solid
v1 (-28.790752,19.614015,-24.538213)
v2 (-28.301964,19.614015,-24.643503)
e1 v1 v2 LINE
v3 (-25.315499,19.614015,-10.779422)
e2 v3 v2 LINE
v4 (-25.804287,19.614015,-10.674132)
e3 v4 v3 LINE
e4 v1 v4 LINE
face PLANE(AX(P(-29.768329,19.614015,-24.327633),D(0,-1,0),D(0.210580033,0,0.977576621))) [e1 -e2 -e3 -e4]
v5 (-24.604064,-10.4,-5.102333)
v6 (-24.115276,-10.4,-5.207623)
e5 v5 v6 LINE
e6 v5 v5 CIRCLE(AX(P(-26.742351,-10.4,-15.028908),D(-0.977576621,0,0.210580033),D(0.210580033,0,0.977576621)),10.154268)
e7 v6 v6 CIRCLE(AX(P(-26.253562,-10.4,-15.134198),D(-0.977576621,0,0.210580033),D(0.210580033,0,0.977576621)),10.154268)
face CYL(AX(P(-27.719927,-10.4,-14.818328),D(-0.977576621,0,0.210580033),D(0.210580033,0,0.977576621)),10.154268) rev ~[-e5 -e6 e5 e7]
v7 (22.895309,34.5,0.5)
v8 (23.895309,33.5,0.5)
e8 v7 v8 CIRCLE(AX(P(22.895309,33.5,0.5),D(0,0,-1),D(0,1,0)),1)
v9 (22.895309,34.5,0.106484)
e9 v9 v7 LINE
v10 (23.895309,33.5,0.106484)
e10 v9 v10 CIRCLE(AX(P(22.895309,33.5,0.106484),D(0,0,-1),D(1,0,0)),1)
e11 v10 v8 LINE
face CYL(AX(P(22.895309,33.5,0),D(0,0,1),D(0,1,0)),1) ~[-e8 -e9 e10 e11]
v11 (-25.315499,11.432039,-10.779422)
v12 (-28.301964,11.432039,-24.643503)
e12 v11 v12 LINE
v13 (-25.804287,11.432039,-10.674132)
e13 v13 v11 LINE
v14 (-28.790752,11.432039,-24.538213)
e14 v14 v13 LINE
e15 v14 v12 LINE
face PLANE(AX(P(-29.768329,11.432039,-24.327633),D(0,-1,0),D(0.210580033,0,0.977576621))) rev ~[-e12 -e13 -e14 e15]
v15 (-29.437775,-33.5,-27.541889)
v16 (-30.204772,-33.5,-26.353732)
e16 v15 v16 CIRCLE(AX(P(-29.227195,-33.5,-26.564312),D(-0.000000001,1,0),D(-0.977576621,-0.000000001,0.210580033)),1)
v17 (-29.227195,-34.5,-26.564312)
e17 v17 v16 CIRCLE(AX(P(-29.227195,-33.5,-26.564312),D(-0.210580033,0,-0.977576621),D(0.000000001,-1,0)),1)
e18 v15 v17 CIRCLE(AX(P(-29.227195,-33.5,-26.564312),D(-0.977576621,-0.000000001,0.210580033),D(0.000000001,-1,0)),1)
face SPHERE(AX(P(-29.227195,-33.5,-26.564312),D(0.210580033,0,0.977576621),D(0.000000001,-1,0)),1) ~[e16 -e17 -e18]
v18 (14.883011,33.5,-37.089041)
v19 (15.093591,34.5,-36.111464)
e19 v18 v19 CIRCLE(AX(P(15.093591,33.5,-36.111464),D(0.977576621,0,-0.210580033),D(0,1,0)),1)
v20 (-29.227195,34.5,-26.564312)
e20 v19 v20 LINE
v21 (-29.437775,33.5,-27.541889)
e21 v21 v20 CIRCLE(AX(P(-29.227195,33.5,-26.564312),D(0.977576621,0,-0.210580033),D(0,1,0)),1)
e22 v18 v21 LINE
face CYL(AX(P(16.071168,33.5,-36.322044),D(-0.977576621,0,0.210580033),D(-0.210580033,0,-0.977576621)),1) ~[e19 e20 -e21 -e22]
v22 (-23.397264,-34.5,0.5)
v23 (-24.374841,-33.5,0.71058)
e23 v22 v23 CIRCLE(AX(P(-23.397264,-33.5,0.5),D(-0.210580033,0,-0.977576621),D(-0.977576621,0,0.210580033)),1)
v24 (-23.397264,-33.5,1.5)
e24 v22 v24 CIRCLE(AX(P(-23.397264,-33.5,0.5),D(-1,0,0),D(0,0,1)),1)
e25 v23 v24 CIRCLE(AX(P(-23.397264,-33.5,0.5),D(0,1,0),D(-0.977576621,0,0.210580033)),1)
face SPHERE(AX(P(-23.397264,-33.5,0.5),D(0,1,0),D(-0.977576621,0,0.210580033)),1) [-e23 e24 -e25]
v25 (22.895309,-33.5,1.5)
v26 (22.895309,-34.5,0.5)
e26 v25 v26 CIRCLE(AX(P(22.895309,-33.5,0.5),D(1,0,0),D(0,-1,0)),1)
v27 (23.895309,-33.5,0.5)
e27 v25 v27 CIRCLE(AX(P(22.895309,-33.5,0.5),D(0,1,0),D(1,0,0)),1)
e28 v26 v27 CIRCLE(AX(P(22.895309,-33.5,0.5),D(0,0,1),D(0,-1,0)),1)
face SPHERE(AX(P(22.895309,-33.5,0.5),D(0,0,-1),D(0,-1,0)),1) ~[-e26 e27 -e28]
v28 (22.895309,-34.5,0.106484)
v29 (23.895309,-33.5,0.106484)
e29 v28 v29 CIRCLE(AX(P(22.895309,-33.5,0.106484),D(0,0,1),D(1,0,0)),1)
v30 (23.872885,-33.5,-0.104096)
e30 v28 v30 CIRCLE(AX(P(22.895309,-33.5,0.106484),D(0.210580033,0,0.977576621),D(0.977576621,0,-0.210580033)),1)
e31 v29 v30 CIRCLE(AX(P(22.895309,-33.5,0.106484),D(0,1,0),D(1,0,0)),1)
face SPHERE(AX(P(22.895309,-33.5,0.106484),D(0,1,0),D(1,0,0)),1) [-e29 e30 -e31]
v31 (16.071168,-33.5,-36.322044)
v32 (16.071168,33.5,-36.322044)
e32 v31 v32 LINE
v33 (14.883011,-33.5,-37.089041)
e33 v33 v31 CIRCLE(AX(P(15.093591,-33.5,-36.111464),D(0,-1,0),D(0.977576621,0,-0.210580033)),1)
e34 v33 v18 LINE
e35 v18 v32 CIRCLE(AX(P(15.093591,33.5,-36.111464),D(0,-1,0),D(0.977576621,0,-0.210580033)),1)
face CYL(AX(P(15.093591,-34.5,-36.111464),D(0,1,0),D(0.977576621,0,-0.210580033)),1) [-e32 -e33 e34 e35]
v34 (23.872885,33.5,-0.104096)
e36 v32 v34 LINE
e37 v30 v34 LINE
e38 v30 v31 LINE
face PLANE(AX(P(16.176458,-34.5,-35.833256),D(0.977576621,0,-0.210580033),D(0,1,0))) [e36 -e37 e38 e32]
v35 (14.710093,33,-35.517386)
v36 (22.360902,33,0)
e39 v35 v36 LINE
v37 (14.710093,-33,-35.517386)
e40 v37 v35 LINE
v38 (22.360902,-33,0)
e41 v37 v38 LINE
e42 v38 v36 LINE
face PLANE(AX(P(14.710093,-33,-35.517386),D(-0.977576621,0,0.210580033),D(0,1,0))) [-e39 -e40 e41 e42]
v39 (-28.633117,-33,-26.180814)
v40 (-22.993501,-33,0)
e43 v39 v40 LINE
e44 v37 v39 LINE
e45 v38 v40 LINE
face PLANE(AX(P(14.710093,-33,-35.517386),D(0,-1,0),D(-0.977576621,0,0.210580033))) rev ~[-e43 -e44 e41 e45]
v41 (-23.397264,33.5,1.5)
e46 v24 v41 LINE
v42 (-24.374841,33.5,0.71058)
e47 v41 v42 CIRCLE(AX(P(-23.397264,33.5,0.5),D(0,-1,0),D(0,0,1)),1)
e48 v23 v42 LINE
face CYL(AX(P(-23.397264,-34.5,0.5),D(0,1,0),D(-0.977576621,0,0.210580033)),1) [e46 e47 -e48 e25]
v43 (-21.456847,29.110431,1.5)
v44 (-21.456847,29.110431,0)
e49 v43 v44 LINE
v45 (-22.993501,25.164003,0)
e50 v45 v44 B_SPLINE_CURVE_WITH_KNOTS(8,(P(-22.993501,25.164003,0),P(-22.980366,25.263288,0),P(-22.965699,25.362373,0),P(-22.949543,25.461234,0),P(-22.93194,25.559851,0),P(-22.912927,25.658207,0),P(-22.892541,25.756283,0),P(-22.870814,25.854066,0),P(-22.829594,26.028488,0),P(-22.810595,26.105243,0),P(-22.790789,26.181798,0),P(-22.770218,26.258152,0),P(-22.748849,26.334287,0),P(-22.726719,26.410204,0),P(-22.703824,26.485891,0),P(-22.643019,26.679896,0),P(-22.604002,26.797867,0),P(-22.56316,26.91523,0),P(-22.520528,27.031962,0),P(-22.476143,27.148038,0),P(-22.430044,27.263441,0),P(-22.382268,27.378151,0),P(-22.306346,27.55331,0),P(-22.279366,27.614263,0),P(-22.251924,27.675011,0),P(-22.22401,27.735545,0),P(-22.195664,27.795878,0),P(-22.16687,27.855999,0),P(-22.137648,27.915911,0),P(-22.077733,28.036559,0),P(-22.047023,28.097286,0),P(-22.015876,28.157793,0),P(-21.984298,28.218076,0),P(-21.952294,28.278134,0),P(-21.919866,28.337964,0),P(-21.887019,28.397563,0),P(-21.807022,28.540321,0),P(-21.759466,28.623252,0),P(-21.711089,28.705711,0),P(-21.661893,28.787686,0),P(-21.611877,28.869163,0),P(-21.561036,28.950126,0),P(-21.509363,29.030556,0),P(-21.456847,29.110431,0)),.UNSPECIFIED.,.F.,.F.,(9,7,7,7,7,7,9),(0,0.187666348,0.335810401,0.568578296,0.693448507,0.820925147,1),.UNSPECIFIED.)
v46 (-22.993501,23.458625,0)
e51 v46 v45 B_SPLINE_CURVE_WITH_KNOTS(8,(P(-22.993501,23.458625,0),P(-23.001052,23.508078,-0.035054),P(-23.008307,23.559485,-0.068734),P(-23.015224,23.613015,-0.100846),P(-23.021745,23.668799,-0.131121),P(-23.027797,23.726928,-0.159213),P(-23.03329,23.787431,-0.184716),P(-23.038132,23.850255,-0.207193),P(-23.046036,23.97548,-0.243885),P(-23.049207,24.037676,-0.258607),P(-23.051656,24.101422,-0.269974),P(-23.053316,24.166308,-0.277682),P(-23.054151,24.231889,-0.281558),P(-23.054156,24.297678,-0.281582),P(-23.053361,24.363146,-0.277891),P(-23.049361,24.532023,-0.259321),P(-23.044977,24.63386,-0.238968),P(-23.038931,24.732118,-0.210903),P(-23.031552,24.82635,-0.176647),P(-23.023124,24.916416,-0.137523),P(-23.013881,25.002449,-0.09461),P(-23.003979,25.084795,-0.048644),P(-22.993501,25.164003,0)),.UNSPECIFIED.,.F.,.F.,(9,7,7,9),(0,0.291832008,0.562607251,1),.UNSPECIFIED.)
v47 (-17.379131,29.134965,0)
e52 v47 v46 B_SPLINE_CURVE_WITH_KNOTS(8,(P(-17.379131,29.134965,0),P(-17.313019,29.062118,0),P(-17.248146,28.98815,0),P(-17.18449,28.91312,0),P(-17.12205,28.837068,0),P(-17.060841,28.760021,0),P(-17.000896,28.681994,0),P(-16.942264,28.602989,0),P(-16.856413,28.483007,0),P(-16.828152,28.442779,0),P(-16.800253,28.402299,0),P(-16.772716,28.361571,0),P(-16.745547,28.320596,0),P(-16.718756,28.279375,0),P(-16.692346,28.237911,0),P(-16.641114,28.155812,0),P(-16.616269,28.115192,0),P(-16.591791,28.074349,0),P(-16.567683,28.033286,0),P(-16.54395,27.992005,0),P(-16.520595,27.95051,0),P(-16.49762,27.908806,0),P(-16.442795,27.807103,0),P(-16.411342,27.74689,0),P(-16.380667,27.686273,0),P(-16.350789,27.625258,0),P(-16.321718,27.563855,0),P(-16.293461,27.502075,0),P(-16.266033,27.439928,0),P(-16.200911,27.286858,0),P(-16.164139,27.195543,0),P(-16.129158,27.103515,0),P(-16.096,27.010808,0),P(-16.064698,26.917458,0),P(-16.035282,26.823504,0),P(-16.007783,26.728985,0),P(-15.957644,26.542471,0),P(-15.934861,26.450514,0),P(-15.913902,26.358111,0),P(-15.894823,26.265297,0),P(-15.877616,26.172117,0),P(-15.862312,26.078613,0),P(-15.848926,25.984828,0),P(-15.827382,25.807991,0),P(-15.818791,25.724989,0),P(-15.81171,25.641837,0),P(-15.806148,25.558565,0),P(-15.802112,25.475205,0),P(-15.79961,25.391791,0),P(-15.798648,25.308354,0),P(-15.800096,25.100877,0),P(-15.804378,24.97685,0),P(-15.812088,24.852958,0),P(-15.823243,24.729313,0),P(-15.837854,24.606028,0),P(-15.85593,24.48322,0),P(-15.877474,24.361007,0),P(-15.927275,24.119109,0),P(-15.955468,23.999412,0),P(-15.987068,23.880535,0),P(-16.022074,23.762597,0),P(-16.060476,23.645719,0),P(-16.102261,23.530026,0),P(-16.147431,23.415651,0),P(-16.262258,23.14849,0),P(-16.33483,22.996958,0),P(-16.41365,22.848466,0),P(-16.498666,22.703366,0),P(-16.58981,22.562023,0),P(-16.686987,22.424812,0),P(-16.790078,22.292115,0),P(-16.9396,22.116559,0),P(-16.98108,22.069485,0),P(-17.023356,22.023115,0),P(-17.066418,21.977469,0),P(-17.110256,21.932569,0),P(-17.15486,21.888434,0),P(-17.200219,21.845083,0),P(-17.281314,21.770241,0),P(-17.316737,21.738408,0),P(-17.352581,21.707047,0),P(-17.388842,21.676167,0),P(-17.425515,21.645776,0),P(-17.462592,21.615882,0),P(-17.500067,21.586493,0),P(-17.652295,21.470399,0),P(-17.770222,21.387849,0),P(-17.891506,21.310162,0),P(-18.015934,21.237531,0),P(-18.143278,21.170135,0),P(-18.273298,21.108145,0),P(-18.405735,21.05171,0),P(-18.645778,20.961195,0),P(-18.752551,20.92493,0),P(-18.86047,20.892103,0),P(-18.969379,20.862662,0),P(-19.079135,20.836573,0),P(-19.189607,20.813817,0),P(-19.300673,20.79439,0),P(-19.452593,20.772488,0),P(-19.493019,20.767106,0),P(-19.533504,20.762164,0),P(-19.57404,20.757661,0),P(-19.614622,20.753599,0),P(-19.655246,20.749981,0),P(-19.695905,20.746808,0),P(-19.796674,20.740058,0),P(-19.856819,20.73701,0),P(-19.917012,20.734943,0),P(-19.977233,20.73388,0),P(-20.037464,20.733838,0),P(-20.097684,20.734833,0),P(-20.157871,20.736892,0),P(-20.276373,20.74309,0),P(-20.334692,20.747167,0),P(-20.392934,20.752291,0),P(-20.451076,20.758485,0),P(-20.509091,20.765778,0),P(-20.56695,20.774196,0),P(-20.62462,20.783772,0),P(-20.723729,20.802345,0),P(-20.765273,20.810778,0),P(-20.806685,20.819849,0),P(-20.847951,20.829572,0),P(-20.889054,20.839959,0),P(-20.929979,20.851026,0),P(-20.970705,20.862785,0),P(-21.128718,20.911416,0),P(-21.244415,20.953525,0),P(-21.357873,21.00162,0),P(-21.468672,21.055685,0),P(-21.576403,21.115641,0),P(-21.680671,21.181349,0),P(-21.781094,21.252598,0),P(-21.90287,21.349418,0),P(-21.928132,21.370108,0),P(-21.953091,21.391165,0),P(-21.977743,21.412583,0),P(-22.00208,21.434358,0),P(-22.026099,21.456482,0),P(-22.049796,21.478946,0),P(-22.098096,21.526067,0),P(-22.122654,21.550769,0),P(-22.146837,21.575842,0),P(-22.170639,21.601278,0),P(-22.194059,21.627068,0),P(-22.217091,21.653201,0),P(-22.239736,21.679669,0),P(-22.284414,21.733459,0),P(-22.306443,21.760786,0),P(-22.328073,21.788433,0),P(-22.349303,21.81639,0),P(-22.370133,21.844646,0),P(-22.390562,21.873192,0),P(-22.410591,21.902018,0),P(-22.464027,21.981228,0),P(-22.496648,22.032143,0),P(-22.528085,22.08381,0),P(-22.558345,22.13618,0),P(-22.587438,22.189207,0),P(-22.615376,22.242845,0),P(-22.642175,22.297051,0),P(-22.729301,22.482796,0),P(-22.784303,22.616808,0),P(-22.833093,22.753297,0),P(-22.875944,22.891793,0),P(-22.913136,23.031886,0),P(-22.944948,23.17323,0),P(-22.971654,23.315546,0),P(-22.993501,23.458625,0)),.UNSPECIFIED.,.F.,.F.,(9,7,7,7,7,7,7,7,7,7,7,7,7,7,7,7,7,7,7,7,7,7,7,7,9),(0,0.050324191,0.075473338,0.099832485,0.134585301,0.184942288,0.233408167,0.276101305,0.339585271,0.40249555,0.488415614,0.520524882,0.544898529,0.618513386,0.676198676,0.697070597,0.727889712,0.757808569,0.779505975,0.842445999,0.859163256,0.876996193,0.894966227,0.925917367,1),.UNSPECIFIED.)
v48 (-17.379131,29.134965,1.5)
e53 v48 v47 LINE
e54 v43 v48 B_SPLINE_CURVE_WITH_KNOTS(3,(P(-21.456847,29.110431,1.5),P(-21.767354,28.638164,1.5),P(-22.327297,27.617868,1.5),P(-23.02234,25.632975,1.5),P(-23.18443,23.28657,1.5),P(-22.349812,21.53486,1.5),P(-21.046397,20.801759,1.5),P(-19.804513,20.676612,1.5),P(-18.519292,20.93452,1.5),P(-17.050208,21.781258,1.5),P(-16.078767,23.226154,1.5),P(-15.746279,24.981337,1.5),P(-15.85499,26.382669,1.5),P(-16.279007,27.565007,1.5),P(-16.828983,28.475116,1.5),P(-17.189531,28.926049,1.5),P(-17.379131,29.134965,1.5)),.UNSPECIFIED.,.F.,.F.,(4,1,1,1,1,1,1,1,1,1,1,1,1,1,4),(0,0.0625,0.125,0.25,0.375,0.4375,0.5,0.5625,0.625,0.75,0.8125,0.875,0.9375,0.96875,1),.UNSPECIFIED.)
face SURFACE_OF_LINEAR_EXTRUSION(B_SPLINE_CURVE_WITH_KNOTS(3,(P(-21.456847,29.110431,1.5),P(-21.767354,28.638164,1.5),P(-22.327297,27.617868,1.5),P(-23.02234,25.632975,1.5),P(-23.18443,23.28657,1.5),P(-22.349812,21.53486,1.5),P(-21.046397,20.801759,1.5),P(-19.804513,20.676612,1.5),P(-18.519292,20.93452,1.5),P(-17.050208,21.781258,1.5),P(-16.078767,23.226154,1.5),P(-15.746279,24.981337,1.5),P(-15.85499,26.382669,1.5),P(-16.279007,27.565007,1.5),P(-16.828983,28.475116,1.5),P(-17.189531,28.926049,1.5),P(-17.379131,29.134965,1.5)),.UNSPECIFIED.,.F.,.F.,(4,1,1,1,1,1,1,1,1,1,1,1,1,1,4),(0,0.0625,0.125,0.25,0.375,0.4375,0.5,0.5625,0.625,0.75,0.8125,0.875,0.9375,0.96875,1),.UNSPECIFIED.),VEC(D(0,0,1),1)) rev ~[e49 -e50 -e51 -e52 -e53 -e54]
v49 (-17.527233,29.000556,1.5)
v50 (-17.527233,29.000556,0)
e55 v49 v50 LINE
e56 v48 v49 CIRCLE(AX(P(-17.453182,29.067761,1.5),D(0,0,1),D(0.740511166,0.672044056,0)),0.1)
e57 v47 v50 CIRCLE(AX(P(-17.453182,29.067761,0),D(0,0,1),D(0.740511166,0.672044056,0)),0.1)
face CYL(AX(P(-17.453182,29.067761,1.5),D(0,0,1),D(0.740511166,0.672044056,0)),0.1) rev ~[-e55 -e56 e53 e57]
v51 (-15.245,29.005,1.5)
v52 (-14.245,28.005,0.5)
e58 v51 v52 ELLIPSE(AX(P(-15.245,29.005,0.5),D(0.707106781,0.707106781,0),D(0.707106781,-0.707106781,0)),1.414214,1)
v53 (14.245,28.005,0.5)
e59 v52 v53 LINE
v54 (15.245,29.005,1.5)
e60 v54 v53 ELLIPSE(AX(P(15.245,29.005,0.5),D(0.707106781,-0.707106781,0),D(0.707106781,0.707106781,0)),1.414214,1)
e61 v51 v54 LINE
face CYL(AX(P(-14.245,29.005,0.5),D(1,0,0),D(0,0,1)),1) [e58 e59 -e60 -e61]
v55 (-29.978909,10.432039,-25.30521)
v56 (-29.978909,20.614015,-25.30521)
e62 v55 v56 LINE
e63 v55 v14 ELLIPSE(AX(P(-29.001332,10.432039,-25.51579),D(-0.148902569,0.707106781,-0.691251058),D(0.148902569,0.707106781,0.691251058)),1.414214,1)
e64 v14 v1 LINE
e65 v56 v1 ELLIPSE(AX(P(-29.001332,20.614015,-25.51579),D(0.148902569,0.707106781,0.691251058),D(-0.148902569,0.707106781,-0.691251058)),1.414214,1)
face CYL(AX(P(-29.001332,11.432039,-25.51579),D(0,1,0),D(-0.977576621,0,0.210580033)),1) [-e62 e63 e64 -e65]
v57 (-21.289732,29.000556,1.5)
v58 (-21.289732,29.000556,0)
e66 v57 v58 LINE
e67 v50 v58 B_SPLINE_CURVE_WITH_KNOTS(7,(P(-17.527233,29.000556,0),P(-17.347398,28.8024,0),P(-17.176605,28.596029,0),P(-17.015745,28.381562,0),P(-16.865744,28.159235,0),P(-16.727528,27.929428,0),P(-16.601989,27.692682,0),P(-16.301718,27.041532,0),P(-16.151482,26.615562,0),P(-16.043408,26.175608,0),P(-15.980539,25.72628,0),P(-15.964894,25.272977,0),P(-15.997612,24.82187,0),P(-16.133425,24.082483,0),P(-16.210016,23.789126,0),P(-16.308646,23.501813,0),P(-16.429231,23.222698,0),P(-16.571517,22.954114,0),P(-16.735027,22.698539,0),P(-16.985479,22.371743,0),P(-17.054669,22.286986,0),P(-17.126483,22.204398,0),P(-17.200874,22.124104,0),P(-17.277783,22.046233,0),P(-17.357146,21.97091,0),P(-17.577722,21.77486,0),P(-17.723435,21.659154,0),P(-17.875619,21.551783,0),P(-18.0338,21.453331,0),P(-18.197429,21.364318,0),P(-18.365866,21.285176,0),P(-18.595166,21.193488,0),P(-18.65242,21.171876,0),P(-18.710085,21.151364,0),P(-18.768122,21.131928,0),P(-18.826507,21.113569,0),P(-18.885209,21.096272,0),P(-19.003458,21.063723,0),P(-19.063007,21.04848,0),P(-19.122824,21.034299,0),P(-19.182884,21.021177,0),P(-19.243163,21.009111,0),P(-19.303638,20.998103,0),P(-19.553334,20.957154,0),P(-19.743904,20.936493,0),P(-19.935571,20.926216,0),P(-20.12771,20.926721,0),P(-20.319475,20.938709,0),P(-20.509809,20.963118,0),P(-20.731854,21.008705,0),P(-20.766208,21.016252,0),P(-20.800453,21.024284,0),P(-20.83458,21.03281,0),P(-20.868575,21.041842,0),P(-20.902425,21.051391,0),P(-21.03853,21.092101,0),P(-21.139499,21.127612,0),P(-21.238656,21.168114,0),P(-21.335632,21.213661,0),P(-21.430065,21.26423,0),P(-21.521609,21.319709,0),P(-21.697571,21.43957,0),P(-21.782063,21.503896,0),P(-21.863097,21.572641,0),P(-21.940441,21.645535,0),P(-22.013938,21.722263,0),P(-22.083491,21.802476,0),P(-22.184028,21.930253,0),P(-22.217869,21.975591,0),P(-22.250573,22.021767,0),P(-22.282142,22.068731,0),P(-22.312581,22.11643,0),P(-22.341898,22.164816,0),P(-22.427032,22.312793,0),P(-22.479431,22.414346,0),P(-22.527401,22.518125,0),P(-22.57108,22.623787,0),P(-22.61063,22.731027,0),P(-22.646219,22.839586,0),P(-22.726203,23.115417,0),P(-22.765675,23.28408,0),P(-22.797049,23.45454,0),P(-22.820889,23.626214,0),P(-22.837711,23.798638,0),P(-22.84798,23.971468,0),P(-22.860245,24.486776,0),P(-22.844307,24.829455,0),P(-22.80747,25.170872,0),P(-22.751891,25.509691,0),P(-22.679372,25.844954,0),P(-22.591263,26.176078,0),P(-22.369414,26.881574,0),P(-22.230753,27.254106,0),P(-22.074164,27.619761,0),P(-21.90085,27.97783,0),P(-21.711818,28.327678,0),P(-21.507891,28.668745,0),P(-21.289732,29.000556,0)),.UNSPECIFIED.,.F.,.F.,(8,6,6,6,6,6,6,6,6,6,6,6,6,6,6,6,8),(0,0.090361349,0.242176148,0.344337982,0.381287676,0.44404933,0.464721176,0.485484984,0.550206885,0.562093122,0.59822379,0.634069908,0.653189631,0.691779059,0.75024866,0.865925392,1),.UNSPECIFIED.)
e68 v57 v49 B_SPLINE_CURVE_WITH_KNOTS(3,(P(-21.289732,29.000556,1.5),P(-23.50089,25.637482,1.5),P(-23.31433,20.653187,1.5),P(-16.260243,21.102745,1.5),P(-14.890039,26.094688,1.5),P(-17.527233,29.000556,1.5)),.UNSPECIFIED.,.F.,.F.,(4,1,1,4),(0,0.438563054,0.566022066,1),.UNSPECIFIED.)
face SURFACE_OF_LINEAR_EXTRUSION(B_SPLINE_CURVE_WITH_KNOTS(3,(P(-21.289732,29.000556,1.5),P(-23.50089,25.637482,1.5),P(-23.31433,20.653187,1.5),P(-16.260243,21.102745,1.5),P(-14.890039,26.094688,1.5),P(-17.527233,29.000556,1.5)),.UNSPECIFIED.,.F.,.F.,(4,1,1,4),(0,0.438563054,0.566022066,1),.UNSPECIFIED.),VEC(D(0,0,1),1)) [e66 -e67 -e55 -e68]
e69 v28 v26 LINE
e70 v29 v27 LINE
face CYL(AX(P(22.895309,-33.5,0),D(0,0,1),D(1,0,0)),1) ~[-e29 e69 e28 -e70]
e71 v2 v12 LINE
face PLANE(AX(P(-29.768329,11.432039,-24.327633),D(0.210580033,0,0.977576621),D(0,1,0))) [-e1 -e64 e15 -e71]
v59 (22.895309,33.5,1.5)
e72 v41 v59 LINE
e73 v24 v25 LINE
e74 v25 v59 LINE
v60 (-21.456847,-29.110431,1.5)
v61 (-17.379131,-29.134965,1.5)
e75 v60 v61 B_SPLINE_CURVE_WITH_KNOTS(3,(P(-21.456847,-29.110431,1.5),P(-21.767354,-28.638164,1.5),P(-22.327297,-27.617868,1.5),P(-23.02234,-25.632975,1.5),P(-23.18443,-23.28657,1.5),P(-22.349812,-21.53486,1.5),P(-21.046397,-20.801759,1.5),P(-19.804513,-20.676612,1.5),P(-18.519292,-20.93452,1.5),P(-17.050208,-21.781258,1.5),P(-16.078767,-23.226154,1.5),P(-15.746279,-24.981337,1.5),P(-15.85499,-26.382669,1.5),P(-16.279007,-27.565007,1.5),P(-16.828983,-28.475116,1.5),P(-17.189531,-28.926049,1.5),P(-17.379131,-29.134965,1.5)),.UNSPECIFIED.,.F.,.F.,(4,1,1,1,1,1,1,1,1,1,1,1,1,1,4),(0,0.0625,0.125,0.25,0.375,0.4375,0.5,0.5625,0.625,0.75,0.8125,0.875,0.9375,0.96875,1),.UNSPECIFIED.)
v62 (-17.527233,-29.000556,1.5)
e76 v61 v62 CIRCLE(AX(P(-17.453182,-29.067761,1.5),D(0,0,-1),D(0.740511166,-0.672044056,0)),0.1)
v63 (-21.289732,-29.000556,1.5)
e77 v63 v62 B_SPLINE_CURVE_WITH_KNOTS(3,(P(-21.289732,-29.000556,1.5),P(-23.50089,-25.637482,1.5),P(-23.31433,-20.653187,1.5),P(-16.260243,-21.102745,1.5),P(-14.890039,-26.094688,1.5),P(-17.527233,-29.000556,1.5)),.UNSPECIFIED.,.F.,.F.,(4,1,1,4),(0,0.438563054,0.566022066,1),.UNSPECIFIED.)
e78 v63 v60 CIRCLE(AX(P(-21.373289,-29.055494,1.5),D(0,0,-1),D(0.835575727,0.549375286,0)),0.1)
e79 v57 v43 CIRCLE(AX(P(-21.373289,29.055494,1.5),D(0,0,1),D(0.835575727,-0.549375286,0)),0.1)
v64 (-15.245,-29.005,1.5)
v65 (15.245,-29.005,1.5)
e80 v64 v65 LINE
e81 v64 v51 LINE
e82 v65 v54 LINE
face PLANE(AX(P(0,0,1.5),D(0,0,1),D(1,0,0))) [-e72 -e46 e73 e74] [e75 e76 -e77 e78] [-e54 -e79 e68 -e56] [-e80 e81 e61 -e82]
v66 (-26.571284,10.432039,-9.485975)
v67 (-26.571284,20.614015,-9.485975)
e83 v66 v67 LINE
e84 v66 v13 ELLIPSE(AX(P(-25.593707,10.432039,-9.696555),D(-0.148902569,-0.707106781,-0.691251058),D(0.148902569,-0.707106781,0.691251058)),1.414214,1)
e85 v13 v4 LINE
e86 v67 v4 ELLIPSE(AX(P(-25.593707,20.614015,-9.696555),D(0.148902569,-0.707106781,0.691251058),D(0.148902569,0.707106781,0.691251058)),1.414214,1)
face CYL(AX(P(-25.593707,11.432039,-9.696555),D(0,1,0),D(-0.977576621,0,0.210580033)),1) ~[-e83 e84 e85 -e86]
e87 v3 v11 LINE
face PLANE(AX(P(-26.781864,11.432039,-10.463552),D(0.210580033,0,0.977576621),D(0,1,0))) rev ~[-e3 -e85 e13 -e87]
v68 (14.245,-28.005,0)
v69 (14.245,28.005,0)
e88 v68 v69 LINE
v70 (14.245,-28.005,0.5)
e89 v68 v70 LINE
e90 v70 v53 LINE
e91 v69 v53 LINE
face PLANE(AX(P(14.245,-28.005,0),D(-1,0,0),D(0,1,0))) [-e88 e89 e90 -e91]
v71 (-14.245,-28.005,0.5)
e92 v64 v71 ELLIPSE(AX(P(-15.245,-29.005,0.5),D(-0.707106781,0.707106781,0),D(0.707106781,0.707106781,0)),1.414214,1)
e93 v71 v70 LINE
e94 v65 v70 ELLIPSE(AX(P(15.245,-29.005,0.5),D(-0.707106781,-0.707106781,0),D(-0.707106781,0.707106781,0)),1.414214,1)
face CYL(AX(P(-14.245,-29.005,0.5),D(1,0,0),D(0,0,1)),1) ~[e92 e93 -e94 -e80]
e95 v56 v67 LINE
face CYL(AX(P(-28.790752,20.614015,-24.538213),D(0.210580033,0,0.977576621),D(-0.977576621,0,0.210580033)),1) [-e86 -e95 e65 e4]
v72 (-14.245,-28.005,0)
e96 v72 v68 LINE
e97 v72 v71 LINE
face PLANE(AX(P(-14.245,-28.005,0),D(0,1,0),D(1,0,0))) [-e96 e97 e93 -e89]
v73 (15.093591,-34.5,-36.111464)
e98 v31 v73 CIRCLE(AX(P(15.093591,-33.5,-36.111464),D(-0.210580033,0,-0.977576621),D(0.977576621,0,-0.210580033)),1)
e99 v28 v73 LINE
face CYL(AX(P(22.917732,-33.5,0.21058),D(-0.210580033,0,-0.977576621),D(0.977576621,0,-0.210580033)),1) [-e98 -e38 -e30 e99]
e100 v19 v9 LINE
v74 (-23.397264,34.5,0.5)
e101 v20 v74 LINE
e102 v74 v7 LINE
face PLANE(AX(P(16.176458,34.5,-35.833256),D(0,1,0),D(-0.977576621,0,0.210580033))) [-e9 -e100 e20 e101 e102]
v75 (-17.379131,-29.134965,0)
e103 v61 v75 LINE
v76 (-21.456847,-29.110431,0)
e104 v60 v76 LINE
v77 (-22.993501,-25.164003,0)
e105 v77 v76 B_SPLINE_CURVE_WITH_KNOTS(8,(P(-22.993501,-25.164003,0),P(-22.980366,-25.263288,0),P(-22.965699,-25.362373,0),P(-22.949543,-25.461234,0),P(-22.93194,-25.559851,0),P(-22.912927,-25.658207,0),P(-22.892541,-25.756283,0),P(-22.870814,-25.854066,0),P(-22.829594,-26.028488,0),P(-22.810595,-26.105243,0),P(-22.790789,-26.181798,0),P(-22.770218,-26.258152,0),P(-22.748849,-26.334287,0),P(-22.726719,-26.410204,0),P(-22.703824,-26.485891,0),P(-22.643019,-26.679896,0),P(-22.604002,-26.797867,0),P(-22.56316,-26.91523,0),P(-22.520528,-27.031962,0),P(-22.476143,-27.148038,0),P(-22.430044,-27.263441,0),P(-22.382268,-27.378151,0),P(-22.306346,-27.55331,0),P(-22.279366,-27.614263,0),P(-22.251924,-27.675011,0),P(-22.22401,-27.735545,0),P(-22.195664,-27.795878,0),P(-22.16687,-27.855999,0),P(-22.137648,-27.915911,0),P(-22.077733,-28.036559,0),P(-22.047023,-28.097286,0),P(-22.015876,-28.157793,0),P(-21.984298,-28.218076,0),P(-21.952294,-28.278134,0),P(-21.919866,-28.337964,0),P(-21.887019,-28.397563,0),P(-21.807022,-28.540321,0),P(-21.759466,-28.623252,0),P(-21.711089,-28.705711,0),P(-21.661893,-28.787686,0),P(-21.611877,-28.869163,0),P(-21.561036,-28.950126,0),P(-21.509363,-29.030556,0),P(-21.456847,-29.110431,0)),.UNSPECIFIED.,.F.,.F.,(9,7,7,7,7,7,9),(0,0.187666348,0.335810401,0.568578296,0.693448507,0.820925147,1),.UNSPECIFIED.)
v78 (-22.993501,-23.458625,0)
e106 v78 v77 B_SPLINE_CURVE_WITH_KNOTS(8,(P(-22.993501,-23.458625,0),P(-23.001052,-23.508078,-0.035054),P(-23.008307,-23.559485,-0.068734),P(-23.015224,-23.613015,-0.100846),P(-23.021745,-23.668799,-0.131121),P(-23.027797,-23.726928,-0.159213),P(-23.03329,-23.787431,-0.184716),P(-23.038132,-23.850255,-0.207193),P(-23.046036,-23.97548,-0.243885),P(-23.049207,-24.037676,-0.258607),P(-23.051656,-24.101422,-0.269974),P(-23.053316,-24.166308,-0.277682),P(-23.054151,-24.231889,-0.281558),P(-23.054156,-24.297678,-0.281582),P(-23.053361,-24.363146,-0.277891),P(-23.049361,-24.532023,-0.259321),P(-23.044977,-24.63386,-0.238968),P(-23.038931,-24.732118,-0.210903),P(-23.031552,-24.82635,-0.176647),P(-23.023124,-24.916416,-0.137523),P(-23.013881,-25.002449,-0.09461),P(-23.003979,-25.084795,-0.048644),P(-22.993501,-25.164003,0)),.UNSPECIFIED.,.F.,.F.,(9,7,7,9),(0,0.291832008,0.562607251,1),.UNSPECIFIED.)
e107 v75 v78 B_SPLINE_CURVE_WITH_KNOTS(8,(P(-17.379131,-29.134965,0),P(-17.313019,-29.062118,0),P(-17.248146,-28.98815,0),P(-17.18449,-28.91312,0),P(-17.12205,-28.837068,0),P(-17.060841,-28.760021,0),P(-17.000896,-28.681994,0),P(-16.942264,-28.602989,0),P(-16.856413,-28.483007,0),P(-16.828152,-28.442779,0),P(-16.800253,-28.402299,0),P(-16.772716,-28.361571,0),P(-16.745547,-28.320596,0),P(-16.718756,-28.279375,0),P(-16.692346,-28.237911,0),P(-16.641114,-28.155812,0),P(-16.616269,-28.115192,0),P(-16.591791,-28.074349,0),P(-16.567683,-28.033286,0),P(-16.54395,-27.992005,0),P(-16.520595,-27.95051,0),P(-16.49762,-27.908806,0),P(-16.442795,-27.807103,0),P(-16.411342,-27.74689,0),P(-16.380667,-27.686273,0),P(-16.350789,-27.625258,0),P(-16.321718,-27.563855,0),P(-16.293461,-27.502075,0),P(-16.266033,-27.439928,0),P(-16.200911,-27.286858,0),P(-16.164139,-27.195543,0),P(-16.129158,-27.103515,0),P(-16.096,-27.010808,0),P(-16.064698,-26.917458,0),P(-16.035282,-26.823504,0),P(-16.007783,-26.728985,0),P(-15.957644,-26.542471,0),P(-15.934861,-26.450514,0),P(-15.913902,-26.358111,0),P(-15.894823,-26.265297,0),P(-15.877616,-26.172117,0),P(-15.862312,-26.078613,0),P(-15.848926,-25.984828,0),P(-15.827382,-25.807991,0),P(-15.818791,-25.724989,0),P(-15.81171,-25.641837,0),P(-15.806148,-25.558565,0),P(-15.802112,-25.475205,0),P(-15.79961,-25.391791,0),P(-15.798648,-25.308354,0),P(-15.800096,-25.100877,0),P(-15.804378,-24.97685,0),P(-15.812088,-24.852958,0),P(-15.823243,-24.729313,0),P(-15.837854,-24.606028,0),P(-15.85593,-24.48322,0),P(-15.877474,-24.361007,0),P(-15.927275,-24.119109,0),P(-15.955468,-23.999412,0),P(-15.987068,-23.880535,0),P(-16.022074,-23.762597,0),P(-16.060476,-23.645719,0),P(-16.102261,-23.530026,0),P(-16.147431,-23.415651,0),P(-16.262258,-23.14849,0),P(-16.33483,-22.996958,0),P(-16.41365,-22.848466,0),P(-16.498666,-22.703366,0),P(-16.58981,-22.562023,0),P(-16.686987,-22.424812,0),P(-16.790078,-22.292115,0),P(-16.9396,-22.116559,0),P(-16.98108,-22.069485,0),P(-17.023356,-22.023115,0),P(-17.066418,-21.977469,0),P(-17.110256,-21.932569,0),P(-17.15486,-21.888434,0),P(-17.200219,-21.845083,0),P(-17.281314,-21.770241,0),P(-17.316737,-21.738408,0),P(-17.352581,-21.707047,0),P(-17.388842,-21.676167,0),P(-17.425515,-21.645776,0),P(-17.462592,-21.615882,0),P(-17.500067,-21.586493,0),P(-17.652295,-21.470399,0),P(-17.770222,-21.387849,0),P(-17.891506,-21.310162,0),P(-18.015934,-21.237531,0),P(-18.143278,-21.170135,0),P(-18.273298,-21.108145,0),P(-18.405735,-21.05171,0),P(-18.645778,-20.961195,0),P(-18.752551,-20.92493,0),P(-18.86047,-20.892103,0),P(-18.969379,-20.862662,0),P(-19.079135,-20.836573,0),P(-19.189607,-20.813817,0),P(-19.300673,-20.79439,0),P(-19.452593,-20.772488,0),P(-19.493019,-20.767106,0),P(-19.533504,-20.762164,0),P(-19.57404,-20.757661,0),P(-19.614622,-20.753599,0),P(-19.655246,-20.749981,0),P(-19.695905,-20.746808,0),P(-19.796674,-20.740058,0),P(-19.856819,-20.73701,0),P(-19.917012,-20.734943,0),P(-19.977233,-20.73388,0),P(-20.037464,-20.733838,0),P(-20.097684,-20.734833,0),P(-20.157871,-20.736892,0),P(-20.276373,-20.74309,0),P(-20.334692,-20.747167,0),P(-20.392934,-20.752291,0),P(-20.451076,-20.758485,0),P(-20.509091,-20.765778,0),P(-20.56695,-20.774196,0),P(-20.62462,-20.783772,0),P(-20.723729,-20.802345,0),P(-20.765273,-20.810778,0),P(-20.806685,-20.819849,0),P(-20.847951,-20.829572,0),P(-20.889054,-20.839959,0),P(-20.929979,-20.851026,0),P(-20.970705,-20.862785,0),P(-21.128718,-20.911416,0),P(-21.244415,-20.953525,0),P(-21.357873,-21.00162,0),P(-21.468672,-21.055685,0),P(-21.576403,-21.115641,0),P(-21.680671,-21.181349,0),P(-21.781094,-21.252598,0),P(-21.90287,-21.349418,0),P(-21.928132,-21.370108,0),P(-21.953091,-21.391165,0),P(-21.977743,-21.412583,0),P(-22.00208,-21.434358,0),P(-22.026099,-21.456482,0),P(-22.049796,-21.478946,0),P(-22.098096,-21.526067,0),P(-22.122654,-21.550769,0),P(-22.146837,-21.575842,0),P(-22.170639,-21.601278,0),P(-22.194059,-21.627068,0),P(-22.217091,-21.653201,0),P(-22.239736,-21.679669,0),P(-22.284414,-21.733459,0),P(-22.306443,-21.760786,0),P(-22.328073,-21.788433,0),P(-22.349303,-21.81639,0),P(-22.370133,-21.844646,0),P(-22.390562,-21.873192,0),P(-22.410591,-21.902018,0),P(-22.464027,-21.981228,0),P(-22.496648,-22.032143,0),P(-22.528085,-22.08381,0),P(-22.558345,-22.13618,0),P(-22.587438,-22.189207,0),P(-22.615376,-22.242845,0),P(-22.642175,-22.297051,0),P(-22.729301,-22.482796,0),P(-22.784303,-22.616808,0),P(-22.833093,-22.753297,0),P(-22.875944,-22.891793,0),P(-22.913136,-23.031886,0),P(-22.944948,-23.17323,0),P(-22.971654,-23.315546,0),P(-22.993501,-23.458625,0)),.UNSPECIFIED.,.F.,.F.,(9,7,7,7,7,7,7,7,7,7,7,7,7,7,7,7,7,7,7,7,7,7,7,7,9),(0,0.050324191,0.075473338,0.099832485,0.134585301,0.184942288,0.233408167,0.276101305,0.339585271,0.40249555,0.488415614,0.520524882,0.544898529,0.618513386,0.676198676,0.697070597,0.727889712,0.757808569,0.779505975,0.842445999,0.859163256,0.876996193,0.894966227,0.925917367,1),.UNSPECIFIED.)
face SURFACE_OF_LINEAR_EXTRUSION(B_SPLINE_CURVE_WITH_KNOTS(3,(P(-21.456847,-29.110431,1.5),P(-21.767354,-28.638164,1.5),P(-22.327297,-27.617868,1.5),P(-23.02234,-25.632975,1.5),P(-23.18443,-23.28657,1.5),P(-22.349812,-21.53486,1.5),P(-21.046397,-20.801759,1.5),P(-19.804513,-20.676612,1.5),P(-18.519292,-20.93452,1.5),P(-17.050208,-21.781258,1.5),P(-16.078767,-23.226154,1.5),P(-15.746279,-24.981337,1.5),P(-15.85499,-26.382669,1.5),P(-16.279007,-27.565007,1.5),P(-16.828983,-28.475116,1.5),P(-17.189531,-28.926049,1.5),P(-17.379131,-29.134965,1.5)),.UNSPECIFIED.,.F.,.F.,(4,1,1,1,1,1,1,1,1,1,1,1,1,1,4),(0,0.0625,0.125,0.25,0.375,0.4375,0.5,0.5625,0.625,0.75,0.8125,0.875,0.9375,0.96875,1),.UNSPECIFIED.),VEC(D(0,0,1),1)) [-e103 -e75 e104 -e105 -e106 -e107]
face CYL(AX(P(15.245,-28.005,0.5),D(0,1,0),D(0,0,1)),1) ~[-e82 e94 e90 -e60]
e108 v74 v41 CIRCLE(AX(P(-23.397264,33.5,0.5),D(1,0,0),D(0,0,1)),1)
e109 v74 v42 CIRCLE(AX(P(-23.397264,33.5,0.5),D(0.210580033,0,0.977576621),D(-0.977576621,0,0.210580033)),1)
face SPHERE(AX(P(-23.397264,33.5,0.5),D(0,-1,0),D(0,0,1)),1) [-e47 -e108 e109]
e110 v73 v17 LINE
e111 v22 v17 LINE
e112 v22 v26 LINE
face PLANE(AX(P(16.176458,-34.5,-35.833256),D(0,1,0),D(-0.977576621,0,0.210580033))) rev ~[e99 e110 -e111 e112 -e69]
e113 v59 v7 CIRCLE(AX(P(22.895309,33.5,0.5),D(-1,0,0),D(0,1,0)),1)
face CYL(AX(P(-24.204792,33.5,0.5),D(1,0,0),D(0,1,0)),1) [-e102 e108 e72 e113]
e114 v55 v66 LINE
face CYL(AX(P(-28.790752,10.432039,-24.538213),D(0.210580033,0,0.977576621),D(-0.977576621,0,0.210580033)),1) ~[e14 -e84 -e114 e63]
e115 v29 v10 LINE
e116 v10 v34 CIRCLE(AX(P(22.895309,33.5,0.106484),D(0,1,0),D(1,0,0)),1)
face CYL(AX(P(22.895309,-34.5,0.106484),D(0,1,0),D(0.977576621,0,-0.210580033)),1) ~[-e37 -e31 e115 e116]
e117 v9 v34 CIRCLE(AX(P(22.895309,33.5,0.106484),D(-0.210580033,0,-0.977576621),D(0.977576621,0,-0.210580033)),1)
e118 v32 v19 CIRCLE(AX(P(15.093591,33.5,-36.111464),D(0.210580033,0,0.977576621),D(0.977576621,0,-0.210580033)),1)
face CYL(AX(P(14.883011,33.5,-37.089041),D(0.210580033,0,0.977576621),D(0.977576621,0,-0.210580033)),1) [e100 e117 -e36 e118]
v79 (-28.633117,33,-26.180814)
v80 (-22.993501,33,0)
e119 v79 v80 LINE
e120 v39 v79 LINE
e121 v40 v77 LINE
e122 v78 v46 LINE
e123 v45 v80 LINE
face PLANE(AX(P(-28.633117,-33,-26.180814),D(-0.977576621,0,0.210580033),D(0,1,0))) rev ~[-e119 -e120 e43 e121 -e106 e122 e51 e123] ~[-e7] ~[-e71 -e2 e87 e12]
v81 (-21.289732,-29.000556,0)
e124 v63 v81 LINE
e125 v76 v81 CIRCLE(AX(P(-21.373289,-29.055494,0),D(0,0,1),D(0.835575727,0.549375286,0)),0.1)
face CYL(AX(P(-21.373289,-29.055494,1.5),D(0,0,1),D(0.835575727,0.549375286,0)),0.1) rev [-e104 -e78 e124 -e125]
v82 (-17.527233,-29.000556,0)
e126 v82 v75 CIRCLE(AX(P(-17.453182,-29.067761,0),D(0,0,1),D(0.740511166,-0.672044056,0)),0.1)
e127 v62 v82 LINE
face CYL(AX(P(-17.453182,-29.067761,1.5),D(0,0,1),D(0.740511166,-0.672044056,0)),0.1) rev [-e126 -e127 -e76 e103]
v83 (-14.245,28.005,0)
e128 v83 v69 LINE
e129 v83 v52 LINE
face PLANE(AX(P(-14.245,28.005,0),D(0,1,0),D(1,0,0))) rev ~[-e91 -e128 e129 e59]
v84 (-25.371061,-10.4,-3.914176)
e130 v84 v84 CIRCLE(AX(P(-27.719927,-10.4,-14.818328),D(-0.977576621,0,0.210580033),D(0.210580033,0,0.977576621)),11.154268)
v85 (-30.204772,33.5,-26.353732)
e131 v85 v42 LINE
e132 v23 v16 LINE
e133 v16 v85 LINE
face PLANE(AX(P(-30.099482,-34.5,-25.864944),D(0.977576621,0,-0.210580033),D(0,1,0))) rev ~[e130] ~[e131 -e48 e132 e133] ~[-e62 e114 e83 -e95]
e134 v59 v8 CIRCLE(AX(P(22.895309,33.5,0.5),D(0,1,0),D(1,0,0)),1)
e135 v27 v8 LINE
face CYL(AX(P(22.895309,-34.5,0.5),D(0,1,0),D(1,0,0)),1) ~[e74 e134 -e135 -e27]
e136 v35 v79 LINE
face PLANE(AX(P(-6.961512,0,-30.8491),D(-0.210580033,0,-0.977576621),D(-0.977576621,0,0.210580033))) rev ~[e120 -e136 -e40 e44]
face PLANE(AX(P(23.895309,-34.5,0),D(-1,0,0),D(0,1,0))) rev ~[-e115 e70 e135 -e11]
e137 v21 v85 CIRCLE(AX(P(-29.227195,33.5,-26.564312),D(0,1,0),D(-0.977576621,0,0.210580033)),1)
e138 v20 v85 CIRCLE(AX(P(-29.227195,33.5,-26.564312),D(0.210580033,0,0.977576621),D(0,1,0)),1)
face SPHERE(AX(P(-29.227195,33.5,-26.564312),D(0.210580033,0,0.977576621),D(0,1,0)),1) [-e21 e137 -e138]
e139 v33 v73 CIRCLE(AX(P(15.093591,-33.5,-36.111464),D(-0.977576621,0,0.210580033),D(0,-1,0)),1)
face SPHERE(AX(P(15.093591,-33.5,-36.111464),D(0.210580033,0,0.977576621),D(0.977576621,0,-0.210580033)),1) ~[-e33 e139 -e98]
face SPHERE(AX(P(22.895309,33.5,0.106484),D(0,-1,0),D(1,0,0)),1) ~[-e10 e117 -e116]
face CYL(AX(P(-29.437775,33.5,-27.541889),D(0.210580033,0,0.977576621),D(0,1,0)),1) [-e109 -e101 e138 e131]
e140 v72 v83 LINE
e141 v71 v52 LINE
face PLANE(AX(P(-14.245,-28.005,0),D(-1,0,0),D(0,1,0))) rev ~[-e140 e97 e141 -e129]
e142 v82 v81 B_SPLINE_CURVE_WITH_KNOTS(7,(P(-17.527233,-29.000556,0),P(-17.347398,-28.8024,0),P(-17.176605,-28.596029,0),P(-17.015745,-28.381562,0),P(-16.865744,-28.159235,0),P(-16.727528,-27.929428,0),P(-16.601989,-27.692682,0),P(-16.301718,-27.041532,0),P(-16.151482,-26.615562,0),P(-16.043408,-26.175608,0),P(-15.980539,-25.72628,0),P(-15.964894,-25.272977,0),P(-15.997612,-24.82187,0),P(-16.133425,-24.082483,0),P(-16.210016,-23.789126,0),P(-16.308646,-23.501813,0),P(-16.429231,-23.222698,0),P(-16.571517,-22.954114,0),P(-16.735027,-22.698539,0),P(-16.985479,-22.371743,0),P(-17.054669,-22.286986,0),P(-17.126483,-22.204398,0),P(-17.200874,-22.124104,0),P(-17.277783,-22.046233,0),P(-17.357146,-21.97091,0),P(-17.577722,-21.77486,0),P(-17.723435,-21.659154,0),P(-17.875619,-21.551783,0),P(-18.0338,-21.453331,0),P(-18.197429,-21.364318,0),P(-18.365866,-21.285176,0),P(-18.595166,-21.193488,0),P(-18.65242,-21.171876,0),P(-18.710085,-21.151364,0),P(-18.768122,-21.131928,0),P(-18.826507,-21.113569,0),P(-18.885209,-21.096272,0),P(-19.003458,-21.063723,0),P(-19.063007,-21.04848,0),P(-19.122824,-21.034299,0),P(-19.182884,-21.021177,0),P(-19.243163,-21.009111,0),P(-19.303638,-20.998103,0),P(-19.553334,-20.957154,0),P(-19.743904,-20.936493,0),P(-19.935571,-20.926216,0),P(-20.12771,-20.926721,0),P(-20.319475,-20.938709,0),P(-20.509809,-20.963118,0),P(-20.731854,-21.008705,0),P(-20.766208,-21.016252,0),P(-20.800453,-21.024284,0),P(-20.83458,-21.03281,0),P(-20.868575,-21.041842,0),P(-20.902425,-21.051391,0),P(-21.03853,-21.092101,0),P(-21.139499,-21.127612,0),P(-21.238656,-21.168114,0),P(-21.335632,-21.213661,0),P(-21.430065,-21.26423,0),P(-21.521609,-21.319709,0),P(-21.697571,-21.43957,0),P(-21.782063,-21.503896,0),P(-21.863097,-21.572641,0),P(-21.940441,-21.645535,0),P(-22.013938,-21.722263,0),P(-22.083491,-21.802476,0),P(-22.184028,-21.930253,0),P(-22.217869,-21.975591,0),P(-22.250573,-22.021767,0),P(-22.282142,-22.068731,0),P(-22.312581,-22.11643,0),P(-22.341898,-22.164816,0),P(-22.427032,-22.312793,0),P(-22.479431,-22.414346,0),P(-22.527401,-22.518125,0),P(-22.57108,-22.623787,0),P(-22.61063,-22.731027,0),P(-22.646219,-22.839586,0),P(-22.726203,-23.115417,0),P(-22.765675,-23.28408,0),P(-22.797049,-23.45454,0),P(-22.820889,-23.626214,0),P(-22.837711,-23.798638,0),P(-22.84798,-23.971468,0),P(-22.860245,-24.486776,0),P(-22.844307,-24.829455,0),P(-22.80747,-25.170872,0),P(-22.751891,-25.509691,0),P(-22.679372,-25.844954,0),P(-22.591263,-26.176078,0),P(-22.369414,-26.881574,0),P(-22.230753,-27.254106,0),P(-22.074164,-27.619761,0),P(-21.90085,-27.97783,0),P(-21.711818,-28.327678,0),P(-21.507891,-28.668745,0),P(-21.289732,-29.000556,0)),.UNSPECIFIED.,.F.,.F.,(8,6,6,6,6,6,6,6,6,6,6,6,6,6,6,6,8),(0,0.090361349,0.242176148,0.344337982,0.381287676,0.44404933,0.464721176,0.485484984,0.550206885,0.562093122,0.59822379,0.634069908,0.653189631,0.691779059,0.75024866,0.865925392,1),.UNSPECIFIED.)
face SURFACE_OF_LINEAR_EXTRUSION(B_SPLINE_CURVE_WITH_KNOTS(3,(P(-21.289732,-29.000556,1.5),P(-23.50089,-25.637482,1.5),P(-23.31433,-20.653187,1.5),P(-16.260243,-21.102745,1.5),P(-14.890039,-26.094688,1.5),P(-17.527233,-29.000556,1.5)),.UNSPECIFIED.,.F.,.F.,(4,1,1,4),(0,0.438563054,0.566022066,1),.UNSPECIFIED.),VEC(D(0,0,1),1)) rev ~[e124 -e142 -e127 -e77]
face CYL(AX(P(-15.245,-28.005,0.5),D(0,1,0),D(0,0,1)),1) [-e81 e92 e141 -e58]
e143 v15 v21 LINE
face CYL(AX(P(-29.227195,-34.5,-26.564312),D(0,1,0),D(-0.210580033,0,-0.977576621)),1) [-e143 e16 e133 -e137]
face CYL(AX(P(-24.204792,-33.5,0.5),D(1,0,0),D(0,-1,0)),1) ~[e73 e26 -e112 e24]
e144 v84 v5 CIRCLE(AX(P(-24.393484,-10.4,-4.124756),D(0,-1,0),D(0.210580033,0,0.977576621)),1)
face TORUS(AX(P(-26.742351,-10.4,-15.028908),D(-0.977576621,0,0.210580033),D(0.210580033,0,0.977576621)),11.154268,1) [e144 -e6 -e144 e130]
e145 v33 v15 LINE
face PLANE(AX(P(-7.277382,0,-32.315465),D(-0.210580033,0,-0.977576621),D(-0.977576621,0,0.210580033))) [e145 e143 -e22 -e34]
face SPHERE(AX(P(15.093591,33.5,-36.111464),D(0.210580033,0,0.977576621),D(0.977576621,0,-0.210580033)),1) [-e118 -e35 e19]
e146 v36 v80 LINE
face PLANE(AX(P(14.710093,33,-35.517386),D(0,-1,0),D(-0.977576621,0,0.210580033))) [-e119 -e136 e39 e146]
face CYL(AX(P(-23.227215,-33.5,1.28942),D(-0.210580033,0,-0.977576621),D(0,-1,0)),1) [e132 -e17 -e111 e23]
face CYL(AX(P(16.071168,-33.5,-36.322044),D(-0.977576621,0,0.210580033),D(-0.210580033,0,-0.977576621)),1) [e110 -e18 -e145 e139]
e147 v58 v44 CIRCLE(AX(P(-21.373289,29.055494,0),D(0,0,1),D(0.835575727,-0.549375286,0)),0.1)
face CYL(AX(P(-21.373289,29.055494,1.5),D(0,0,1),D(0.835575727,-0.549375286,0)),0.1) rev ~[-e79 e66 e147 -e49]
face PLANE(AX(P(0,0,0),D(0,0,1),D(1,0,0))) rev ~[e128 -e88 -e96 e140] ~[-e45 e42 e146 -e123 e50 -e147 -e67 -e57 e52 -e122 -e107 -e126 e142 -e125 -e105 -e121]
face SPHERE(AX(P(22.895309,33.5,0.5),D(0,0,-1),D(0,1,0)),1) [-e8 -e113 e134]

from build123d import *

# Parameters (mm, degrees)
SKETCH1_W           = 48.100100719
SKETCH1_H           = 69
SKETCH1_W_2         = 45.100100719
SKETCH1_H_2         = 66
SKETCH1_W_3         = 31.49
SKETCH1_H_3         = 59.01
SKETCH1_W_4         = 28.49
SKETCH1_H_4         = 56.01
BOSS_EXTRUDE1_DEPTH = 1.5
BOSS_EXTRUDE2_REACH = 58.343
SKETCH2_W           = 47.337403978
SKETCH2_H           = 69
SKETCH2_W_2         = 44.337403978
SKETCH2_H_2         = 66
SKETCH2_3_W         = 47.337403978
SKETCH2_3_H         = 69
BOSS_EXTRUDE3_DEPTH = 1.5
CUT_EXTRUDE1_REACH  = 62.173
CUT_EXTRUDE2_REACH  = 74.28
SKETCH4_R           = 10.1542684
SKETCH4_W           = 14.182091892
SKETCH4_H           = 8.181976091
FILLET1_R           = 1


with BuildPart() as part:
    # Sketch1 → Boss-Extrude1 (new body)
    # profile 1 of 3: a face of its own
    with BuildSketch(Plane.XY):
        with Locations((-0.154741523, 0)):
            Rectangle(SKETCH1_W, SKETCH1_H)
        with Locations((-0.154741523, 0)):
            Rectangle(SKETCH1_W_2, SKETCH1_H_2, mode=Mode.SUBTRACT)
    # profile 2 of 3: a face of its own
    with BuildSketch(Plane.XY):
        with Locations((-0.154741523, 0)):
            Rectangle(SKETCH1_W_2, SKETCH1_H_2)
        Rectangle(SKETCH1_W_3, SKETCH1_H_3, mode=Mode.SUBTRACT)
    # profile 3 of 3: a face of its own
    with BuildSketch(Plane.XY):
        Rectangle(SKETCH1_W_3, SKETCH1_H_3)
        Rectangle(SKETCH1_W_4, SKETCH1_H_4, mode=Mode.SUBTRACT)
    extrude(amount=BOSS_EXTRUDE1_DEPTH)

    # Sketch2 → Boss-Extrude2 (add, up to next)
    with BuildSketch(Plane(origin=(-6.659238528, 0, -30.914212596), x_dir=(-0.9775766209565275, 0, 0.2105800326698086), z_dir=(-0.2105800326698086, 0, -0.9775766209565275)), mode=Mode.PRIVATE) as boss_extrude2_sk1:
        with Locations((0.309206719, 0)):
            Rectangle(SKETCH2_W, SKETCH2_H)
        with Locations((0.309206719, 0)):
            Rectangle(SKETCH2_W_2, SKETCH2_H_2, mode=Mode.SUBTRACT)
    boss_extrude2_tool1 = extrude(boss_extrude2_sk1.sketch, amount=-BOSS_EXTRUDE2_REACH, mode=Mode.PRIVATE) - part.part
    add(boss_extrude2_tool1.solids().sort_by_distance((-6.961512, -33.663231, -30.8491))[0])

    # Sketch2<3> → Boss-Extrude3 (add)
    with BuildSketch(Plane(origin=(-6.659238528, 0, -30.914212596), x_dir=(-0.9775766209565275, 0, 0.2105800326698086), z_dir=(-0.2105800326698086, 0, -0.9775766209565275))):
        with Locations((0.309206719, 0)):
            Rectangle(SKETCH2_3_W, SKETCH2_3_H)
    extrude(amount=BOSS_EXTRUDE3_DEPTH)

    # Sketch3 → Cut-Extrude1 (cut, up to next)
    with BuildSketch(Plane.XY.offset(1.5), mode=Mode.PRIVATE) as cut_extrude1_sk1:
        with BuildLine():
            ThreePointArc((-21.289731657, -29.000556332), (-21.318351701, -29.139051433), (-21.456846802, -29.110431389))
            add(Edge.make_bspline(
                [(-21.456846802, -29.110431389), (-21.76735388, -28.638163734), (-22.327297073, -27.617868396), (-23.022339766, -25.632974806), (-23.184429728, -23.286569664), (-22.349812004, -21.534860233), (-21.046397057, -20.801758586), (-19.804512561, -20.676612388), (-18.519292443, -20.934519944), (-17.050207703, -21.781257639), (-16.078766807, -23.226153574), (-15.74627905, -24.98133739), (-15.854990247, -26.382669418), (-16.279006649, -27.565007319), (-16.828982995, -28.475116006), (-17.189531054, -28.926049006), (-17.379130961, -29.134965143)],
                knots=[0, 0, 0, 0, 0.0625, 0.125, 0.25, 0.375, 0.4375, 0.5, 0.5625, 0.625, 0.75, 0.8125, 0.875, 0.9375, 0.96875, 1, 1, 1, 1], degree=3))
            ThreePointArc((-17.379130961, -29.134965143), (-17.520386483, -29.141811854), (-17.527233194, -29.000556332))
            add(Edge.make_bspline(
                [(-21.289731657, -29.000556332), (-23.500889651, -25.637481941), (-23.314330036, -20.653187448), (-16.260242518, -21.102744912), (-14.890038838, -26.094687506), (-17.527233194, -29.000556332)],
                knots=[0, 0, 0, 0, 0.438563054, 0.566022066, 1, 1, 1, 1], degree=3))
        make_face()
    cut_extrude1_tool1 = extrude(cut_extrude1_sk1.sketch, amount=-CUT_EXTRUDE1_REACH, mode=Mode.PRIVATE) & part.part
    # Sketch3 → Cut-Extrude1 (cut, up to next)
    with BuildSketch(Plane.XY.offset(1.5), mode=Mode.PRIVATE) as cut_extrude1_sk2:
        with BuildLine():
            add(Edge.make_bspline(
                [(-21.456846802, 29.110431389), (-21.76735388, 28.638163734), (-22.327297073, 27.617868396), (-23.022339766, 25.632974806), (-23.184429728, 23.286569664), (-22.349812004, 21.534860233), (-21.046397057, 20.801758586), (-19.804512561, 20.676612388), (-18.519292443, 20.934519944), (-17.050207703, 21.781257639), (-16.078766807, 23.226153574), (-15.74627905, 24.98133739), (-15.854990247, 26.382669418), (-16.279006649, 27.565007319), (-16.828982995, 28.475116006), (-17.189531054, 28.926049006), (-17.379130961, 29.134965143)],
                knots=[0, 0, 0, 0, 0.0625, 0.125, 0.25, 0.375, 0.4375, 0.5, 0.5625, 0.625, 0.75, 0.8125, 0.875, 0.9375, 0.96875, 1, 1, 1, 1], degree=3))
            ThreePointArc((-17.379130961, 29.134965143), (-17.520386483, 29.141811854), (-17.527233194, 29.000556332))
            add(Edge.make_bspline(
                [(-21.289731657, 29.000556332), (-23.500889651, 25.637481941), (-23.314330036, 20.653187448), (-16.260242518, 21.102744912), (-14.890038838, 26.094687506), (-17.527233194, 29.000556332)],
                knots=[0, 0, 0, 0, 0.438563054, 0.566022066, 1, 1, 1, 1], degree=3))
            ThreePointArc((-21.289731657, 29.000556332), (-21.318351701, 29.139051433), (-21.456846802, 29.110431389))
        make_face()
    cut_extrude1_tool2 = extrude(cut_extrude1_sk2.sketch, amount=-CUT_EXTRUDE1_REACH, mode=Mode.PRIVATE) & part.part
    add(cut_extrude1_tool1.solids().sort_by_distance((-21.379464, -29.046102, 1.5))[0], mode=Mode.SUBTRACT)
    add(cut_extrude1_tool2.solids().sort_by_distance((-19.655611, 20.861949, 1.5))[0], mode=Mode.SUBTRACT)

    # Sketch4 → Cut-Extrude2 (cut, up to next)
    with BuildSketch(Plane(origin=(-23.440242972, 0, 5.049268799), x_dir=(0.21058003266980863, 0, 0.9775766209565275), z_dir=(-0.9775766209565275, 0, 0.21058003266980863)), mode=Mode.PRIVATE) as cut_extrude2_sk1:
        with Locations((-20.323314156, -10.4)):
            Circle(SKETCH4_R)
    cut_extrude2_tool1 = extrude(cut_extrude2_sk1.sketch, amount=-CUT_EXTRUDE2_REACH, mode=Mode.PRIVATE) & part.part
    # Sketch4 → Cut-Extrude2 (cut, up to next)
    with BuildSketch(Plane(origin=(-23.440242972, 0, 5.049268799), x_dir=(0.21058003266980863, 0, 0.9775766209565275), z_dir=(-0.9775766209565275, 0, 0.21058003266980863)), mode=Mode.PRIVATE) as cut_extrude2_sk2:
        with Locations((-22.959694985, 15.523026861)):
            Rectangle(SKETCH4_W, SKETCH4_H)
    cut_extrude2_tool2 = extrude(cut_extrude2_sk2.sketch, amount=-CUT_EXTRUDE2_REACH, mode=Mode.PRIVATE) & part.part
    add(cut_extrude2_tool1.solids().sort_by_distance((-27.719927, -10.4, -14.818328))[0], mode=Mode.SUBTRACT)
    add(cut_extrude2_tool2.solids().sort_by_distance((-28.275096, 15.523027, -17.395592))[0], mode=Mode.SUBTRACT)

    # Fillet1
    fillet1_edges = [part.edges().sort_by_distance(p)[0] for p in [
        (23.895308837, 0, 0),
        (-29.858213302, -10.4, -24.744903371),
        (-29.768328979, 15.523026862, -24.327632977),
        (-28.275096292, 11.432038816, -17.395592243),
        (-26.781863605, 15.523026862, -10.463551508),
        (-28.275096292, 19.614014907, -17.395592243),
        (0, 28.005, 1.5),
        (14.245, 0, 1.5),
        (23.895308837, 34.5, 0.75),
        (23.895308837, -34.5, 0.75),
        (0, -28.005, 1.5),
        (-0.154741522, 34.5, 1.5),
        (-27.310071715, 34.5, -12.915654364),
        (-24.204791882, 0, 1.5),
        (19.877948357, 34.5, -18.649810402),
        (-27.310071715, -34.5, -12.915654364),
        (19.877948357, -34.5, -18.649810402),
        (-0.154741522, -34.5, 1.5),
        (23.895308837, 0, 1.5),
        (15.860587876, 0, -37.299620805),
        (-7.277381836, 34.5, -32.315464767),
        (-7.277381836, -34.5, -32.315464767),
        (-30.415351549, 0, -27.331308728),
        (-14.245, 0, 1.5),
    ]]
    fillet(fillet1_edges, radius=FILLET1_R)


solid = part.part
